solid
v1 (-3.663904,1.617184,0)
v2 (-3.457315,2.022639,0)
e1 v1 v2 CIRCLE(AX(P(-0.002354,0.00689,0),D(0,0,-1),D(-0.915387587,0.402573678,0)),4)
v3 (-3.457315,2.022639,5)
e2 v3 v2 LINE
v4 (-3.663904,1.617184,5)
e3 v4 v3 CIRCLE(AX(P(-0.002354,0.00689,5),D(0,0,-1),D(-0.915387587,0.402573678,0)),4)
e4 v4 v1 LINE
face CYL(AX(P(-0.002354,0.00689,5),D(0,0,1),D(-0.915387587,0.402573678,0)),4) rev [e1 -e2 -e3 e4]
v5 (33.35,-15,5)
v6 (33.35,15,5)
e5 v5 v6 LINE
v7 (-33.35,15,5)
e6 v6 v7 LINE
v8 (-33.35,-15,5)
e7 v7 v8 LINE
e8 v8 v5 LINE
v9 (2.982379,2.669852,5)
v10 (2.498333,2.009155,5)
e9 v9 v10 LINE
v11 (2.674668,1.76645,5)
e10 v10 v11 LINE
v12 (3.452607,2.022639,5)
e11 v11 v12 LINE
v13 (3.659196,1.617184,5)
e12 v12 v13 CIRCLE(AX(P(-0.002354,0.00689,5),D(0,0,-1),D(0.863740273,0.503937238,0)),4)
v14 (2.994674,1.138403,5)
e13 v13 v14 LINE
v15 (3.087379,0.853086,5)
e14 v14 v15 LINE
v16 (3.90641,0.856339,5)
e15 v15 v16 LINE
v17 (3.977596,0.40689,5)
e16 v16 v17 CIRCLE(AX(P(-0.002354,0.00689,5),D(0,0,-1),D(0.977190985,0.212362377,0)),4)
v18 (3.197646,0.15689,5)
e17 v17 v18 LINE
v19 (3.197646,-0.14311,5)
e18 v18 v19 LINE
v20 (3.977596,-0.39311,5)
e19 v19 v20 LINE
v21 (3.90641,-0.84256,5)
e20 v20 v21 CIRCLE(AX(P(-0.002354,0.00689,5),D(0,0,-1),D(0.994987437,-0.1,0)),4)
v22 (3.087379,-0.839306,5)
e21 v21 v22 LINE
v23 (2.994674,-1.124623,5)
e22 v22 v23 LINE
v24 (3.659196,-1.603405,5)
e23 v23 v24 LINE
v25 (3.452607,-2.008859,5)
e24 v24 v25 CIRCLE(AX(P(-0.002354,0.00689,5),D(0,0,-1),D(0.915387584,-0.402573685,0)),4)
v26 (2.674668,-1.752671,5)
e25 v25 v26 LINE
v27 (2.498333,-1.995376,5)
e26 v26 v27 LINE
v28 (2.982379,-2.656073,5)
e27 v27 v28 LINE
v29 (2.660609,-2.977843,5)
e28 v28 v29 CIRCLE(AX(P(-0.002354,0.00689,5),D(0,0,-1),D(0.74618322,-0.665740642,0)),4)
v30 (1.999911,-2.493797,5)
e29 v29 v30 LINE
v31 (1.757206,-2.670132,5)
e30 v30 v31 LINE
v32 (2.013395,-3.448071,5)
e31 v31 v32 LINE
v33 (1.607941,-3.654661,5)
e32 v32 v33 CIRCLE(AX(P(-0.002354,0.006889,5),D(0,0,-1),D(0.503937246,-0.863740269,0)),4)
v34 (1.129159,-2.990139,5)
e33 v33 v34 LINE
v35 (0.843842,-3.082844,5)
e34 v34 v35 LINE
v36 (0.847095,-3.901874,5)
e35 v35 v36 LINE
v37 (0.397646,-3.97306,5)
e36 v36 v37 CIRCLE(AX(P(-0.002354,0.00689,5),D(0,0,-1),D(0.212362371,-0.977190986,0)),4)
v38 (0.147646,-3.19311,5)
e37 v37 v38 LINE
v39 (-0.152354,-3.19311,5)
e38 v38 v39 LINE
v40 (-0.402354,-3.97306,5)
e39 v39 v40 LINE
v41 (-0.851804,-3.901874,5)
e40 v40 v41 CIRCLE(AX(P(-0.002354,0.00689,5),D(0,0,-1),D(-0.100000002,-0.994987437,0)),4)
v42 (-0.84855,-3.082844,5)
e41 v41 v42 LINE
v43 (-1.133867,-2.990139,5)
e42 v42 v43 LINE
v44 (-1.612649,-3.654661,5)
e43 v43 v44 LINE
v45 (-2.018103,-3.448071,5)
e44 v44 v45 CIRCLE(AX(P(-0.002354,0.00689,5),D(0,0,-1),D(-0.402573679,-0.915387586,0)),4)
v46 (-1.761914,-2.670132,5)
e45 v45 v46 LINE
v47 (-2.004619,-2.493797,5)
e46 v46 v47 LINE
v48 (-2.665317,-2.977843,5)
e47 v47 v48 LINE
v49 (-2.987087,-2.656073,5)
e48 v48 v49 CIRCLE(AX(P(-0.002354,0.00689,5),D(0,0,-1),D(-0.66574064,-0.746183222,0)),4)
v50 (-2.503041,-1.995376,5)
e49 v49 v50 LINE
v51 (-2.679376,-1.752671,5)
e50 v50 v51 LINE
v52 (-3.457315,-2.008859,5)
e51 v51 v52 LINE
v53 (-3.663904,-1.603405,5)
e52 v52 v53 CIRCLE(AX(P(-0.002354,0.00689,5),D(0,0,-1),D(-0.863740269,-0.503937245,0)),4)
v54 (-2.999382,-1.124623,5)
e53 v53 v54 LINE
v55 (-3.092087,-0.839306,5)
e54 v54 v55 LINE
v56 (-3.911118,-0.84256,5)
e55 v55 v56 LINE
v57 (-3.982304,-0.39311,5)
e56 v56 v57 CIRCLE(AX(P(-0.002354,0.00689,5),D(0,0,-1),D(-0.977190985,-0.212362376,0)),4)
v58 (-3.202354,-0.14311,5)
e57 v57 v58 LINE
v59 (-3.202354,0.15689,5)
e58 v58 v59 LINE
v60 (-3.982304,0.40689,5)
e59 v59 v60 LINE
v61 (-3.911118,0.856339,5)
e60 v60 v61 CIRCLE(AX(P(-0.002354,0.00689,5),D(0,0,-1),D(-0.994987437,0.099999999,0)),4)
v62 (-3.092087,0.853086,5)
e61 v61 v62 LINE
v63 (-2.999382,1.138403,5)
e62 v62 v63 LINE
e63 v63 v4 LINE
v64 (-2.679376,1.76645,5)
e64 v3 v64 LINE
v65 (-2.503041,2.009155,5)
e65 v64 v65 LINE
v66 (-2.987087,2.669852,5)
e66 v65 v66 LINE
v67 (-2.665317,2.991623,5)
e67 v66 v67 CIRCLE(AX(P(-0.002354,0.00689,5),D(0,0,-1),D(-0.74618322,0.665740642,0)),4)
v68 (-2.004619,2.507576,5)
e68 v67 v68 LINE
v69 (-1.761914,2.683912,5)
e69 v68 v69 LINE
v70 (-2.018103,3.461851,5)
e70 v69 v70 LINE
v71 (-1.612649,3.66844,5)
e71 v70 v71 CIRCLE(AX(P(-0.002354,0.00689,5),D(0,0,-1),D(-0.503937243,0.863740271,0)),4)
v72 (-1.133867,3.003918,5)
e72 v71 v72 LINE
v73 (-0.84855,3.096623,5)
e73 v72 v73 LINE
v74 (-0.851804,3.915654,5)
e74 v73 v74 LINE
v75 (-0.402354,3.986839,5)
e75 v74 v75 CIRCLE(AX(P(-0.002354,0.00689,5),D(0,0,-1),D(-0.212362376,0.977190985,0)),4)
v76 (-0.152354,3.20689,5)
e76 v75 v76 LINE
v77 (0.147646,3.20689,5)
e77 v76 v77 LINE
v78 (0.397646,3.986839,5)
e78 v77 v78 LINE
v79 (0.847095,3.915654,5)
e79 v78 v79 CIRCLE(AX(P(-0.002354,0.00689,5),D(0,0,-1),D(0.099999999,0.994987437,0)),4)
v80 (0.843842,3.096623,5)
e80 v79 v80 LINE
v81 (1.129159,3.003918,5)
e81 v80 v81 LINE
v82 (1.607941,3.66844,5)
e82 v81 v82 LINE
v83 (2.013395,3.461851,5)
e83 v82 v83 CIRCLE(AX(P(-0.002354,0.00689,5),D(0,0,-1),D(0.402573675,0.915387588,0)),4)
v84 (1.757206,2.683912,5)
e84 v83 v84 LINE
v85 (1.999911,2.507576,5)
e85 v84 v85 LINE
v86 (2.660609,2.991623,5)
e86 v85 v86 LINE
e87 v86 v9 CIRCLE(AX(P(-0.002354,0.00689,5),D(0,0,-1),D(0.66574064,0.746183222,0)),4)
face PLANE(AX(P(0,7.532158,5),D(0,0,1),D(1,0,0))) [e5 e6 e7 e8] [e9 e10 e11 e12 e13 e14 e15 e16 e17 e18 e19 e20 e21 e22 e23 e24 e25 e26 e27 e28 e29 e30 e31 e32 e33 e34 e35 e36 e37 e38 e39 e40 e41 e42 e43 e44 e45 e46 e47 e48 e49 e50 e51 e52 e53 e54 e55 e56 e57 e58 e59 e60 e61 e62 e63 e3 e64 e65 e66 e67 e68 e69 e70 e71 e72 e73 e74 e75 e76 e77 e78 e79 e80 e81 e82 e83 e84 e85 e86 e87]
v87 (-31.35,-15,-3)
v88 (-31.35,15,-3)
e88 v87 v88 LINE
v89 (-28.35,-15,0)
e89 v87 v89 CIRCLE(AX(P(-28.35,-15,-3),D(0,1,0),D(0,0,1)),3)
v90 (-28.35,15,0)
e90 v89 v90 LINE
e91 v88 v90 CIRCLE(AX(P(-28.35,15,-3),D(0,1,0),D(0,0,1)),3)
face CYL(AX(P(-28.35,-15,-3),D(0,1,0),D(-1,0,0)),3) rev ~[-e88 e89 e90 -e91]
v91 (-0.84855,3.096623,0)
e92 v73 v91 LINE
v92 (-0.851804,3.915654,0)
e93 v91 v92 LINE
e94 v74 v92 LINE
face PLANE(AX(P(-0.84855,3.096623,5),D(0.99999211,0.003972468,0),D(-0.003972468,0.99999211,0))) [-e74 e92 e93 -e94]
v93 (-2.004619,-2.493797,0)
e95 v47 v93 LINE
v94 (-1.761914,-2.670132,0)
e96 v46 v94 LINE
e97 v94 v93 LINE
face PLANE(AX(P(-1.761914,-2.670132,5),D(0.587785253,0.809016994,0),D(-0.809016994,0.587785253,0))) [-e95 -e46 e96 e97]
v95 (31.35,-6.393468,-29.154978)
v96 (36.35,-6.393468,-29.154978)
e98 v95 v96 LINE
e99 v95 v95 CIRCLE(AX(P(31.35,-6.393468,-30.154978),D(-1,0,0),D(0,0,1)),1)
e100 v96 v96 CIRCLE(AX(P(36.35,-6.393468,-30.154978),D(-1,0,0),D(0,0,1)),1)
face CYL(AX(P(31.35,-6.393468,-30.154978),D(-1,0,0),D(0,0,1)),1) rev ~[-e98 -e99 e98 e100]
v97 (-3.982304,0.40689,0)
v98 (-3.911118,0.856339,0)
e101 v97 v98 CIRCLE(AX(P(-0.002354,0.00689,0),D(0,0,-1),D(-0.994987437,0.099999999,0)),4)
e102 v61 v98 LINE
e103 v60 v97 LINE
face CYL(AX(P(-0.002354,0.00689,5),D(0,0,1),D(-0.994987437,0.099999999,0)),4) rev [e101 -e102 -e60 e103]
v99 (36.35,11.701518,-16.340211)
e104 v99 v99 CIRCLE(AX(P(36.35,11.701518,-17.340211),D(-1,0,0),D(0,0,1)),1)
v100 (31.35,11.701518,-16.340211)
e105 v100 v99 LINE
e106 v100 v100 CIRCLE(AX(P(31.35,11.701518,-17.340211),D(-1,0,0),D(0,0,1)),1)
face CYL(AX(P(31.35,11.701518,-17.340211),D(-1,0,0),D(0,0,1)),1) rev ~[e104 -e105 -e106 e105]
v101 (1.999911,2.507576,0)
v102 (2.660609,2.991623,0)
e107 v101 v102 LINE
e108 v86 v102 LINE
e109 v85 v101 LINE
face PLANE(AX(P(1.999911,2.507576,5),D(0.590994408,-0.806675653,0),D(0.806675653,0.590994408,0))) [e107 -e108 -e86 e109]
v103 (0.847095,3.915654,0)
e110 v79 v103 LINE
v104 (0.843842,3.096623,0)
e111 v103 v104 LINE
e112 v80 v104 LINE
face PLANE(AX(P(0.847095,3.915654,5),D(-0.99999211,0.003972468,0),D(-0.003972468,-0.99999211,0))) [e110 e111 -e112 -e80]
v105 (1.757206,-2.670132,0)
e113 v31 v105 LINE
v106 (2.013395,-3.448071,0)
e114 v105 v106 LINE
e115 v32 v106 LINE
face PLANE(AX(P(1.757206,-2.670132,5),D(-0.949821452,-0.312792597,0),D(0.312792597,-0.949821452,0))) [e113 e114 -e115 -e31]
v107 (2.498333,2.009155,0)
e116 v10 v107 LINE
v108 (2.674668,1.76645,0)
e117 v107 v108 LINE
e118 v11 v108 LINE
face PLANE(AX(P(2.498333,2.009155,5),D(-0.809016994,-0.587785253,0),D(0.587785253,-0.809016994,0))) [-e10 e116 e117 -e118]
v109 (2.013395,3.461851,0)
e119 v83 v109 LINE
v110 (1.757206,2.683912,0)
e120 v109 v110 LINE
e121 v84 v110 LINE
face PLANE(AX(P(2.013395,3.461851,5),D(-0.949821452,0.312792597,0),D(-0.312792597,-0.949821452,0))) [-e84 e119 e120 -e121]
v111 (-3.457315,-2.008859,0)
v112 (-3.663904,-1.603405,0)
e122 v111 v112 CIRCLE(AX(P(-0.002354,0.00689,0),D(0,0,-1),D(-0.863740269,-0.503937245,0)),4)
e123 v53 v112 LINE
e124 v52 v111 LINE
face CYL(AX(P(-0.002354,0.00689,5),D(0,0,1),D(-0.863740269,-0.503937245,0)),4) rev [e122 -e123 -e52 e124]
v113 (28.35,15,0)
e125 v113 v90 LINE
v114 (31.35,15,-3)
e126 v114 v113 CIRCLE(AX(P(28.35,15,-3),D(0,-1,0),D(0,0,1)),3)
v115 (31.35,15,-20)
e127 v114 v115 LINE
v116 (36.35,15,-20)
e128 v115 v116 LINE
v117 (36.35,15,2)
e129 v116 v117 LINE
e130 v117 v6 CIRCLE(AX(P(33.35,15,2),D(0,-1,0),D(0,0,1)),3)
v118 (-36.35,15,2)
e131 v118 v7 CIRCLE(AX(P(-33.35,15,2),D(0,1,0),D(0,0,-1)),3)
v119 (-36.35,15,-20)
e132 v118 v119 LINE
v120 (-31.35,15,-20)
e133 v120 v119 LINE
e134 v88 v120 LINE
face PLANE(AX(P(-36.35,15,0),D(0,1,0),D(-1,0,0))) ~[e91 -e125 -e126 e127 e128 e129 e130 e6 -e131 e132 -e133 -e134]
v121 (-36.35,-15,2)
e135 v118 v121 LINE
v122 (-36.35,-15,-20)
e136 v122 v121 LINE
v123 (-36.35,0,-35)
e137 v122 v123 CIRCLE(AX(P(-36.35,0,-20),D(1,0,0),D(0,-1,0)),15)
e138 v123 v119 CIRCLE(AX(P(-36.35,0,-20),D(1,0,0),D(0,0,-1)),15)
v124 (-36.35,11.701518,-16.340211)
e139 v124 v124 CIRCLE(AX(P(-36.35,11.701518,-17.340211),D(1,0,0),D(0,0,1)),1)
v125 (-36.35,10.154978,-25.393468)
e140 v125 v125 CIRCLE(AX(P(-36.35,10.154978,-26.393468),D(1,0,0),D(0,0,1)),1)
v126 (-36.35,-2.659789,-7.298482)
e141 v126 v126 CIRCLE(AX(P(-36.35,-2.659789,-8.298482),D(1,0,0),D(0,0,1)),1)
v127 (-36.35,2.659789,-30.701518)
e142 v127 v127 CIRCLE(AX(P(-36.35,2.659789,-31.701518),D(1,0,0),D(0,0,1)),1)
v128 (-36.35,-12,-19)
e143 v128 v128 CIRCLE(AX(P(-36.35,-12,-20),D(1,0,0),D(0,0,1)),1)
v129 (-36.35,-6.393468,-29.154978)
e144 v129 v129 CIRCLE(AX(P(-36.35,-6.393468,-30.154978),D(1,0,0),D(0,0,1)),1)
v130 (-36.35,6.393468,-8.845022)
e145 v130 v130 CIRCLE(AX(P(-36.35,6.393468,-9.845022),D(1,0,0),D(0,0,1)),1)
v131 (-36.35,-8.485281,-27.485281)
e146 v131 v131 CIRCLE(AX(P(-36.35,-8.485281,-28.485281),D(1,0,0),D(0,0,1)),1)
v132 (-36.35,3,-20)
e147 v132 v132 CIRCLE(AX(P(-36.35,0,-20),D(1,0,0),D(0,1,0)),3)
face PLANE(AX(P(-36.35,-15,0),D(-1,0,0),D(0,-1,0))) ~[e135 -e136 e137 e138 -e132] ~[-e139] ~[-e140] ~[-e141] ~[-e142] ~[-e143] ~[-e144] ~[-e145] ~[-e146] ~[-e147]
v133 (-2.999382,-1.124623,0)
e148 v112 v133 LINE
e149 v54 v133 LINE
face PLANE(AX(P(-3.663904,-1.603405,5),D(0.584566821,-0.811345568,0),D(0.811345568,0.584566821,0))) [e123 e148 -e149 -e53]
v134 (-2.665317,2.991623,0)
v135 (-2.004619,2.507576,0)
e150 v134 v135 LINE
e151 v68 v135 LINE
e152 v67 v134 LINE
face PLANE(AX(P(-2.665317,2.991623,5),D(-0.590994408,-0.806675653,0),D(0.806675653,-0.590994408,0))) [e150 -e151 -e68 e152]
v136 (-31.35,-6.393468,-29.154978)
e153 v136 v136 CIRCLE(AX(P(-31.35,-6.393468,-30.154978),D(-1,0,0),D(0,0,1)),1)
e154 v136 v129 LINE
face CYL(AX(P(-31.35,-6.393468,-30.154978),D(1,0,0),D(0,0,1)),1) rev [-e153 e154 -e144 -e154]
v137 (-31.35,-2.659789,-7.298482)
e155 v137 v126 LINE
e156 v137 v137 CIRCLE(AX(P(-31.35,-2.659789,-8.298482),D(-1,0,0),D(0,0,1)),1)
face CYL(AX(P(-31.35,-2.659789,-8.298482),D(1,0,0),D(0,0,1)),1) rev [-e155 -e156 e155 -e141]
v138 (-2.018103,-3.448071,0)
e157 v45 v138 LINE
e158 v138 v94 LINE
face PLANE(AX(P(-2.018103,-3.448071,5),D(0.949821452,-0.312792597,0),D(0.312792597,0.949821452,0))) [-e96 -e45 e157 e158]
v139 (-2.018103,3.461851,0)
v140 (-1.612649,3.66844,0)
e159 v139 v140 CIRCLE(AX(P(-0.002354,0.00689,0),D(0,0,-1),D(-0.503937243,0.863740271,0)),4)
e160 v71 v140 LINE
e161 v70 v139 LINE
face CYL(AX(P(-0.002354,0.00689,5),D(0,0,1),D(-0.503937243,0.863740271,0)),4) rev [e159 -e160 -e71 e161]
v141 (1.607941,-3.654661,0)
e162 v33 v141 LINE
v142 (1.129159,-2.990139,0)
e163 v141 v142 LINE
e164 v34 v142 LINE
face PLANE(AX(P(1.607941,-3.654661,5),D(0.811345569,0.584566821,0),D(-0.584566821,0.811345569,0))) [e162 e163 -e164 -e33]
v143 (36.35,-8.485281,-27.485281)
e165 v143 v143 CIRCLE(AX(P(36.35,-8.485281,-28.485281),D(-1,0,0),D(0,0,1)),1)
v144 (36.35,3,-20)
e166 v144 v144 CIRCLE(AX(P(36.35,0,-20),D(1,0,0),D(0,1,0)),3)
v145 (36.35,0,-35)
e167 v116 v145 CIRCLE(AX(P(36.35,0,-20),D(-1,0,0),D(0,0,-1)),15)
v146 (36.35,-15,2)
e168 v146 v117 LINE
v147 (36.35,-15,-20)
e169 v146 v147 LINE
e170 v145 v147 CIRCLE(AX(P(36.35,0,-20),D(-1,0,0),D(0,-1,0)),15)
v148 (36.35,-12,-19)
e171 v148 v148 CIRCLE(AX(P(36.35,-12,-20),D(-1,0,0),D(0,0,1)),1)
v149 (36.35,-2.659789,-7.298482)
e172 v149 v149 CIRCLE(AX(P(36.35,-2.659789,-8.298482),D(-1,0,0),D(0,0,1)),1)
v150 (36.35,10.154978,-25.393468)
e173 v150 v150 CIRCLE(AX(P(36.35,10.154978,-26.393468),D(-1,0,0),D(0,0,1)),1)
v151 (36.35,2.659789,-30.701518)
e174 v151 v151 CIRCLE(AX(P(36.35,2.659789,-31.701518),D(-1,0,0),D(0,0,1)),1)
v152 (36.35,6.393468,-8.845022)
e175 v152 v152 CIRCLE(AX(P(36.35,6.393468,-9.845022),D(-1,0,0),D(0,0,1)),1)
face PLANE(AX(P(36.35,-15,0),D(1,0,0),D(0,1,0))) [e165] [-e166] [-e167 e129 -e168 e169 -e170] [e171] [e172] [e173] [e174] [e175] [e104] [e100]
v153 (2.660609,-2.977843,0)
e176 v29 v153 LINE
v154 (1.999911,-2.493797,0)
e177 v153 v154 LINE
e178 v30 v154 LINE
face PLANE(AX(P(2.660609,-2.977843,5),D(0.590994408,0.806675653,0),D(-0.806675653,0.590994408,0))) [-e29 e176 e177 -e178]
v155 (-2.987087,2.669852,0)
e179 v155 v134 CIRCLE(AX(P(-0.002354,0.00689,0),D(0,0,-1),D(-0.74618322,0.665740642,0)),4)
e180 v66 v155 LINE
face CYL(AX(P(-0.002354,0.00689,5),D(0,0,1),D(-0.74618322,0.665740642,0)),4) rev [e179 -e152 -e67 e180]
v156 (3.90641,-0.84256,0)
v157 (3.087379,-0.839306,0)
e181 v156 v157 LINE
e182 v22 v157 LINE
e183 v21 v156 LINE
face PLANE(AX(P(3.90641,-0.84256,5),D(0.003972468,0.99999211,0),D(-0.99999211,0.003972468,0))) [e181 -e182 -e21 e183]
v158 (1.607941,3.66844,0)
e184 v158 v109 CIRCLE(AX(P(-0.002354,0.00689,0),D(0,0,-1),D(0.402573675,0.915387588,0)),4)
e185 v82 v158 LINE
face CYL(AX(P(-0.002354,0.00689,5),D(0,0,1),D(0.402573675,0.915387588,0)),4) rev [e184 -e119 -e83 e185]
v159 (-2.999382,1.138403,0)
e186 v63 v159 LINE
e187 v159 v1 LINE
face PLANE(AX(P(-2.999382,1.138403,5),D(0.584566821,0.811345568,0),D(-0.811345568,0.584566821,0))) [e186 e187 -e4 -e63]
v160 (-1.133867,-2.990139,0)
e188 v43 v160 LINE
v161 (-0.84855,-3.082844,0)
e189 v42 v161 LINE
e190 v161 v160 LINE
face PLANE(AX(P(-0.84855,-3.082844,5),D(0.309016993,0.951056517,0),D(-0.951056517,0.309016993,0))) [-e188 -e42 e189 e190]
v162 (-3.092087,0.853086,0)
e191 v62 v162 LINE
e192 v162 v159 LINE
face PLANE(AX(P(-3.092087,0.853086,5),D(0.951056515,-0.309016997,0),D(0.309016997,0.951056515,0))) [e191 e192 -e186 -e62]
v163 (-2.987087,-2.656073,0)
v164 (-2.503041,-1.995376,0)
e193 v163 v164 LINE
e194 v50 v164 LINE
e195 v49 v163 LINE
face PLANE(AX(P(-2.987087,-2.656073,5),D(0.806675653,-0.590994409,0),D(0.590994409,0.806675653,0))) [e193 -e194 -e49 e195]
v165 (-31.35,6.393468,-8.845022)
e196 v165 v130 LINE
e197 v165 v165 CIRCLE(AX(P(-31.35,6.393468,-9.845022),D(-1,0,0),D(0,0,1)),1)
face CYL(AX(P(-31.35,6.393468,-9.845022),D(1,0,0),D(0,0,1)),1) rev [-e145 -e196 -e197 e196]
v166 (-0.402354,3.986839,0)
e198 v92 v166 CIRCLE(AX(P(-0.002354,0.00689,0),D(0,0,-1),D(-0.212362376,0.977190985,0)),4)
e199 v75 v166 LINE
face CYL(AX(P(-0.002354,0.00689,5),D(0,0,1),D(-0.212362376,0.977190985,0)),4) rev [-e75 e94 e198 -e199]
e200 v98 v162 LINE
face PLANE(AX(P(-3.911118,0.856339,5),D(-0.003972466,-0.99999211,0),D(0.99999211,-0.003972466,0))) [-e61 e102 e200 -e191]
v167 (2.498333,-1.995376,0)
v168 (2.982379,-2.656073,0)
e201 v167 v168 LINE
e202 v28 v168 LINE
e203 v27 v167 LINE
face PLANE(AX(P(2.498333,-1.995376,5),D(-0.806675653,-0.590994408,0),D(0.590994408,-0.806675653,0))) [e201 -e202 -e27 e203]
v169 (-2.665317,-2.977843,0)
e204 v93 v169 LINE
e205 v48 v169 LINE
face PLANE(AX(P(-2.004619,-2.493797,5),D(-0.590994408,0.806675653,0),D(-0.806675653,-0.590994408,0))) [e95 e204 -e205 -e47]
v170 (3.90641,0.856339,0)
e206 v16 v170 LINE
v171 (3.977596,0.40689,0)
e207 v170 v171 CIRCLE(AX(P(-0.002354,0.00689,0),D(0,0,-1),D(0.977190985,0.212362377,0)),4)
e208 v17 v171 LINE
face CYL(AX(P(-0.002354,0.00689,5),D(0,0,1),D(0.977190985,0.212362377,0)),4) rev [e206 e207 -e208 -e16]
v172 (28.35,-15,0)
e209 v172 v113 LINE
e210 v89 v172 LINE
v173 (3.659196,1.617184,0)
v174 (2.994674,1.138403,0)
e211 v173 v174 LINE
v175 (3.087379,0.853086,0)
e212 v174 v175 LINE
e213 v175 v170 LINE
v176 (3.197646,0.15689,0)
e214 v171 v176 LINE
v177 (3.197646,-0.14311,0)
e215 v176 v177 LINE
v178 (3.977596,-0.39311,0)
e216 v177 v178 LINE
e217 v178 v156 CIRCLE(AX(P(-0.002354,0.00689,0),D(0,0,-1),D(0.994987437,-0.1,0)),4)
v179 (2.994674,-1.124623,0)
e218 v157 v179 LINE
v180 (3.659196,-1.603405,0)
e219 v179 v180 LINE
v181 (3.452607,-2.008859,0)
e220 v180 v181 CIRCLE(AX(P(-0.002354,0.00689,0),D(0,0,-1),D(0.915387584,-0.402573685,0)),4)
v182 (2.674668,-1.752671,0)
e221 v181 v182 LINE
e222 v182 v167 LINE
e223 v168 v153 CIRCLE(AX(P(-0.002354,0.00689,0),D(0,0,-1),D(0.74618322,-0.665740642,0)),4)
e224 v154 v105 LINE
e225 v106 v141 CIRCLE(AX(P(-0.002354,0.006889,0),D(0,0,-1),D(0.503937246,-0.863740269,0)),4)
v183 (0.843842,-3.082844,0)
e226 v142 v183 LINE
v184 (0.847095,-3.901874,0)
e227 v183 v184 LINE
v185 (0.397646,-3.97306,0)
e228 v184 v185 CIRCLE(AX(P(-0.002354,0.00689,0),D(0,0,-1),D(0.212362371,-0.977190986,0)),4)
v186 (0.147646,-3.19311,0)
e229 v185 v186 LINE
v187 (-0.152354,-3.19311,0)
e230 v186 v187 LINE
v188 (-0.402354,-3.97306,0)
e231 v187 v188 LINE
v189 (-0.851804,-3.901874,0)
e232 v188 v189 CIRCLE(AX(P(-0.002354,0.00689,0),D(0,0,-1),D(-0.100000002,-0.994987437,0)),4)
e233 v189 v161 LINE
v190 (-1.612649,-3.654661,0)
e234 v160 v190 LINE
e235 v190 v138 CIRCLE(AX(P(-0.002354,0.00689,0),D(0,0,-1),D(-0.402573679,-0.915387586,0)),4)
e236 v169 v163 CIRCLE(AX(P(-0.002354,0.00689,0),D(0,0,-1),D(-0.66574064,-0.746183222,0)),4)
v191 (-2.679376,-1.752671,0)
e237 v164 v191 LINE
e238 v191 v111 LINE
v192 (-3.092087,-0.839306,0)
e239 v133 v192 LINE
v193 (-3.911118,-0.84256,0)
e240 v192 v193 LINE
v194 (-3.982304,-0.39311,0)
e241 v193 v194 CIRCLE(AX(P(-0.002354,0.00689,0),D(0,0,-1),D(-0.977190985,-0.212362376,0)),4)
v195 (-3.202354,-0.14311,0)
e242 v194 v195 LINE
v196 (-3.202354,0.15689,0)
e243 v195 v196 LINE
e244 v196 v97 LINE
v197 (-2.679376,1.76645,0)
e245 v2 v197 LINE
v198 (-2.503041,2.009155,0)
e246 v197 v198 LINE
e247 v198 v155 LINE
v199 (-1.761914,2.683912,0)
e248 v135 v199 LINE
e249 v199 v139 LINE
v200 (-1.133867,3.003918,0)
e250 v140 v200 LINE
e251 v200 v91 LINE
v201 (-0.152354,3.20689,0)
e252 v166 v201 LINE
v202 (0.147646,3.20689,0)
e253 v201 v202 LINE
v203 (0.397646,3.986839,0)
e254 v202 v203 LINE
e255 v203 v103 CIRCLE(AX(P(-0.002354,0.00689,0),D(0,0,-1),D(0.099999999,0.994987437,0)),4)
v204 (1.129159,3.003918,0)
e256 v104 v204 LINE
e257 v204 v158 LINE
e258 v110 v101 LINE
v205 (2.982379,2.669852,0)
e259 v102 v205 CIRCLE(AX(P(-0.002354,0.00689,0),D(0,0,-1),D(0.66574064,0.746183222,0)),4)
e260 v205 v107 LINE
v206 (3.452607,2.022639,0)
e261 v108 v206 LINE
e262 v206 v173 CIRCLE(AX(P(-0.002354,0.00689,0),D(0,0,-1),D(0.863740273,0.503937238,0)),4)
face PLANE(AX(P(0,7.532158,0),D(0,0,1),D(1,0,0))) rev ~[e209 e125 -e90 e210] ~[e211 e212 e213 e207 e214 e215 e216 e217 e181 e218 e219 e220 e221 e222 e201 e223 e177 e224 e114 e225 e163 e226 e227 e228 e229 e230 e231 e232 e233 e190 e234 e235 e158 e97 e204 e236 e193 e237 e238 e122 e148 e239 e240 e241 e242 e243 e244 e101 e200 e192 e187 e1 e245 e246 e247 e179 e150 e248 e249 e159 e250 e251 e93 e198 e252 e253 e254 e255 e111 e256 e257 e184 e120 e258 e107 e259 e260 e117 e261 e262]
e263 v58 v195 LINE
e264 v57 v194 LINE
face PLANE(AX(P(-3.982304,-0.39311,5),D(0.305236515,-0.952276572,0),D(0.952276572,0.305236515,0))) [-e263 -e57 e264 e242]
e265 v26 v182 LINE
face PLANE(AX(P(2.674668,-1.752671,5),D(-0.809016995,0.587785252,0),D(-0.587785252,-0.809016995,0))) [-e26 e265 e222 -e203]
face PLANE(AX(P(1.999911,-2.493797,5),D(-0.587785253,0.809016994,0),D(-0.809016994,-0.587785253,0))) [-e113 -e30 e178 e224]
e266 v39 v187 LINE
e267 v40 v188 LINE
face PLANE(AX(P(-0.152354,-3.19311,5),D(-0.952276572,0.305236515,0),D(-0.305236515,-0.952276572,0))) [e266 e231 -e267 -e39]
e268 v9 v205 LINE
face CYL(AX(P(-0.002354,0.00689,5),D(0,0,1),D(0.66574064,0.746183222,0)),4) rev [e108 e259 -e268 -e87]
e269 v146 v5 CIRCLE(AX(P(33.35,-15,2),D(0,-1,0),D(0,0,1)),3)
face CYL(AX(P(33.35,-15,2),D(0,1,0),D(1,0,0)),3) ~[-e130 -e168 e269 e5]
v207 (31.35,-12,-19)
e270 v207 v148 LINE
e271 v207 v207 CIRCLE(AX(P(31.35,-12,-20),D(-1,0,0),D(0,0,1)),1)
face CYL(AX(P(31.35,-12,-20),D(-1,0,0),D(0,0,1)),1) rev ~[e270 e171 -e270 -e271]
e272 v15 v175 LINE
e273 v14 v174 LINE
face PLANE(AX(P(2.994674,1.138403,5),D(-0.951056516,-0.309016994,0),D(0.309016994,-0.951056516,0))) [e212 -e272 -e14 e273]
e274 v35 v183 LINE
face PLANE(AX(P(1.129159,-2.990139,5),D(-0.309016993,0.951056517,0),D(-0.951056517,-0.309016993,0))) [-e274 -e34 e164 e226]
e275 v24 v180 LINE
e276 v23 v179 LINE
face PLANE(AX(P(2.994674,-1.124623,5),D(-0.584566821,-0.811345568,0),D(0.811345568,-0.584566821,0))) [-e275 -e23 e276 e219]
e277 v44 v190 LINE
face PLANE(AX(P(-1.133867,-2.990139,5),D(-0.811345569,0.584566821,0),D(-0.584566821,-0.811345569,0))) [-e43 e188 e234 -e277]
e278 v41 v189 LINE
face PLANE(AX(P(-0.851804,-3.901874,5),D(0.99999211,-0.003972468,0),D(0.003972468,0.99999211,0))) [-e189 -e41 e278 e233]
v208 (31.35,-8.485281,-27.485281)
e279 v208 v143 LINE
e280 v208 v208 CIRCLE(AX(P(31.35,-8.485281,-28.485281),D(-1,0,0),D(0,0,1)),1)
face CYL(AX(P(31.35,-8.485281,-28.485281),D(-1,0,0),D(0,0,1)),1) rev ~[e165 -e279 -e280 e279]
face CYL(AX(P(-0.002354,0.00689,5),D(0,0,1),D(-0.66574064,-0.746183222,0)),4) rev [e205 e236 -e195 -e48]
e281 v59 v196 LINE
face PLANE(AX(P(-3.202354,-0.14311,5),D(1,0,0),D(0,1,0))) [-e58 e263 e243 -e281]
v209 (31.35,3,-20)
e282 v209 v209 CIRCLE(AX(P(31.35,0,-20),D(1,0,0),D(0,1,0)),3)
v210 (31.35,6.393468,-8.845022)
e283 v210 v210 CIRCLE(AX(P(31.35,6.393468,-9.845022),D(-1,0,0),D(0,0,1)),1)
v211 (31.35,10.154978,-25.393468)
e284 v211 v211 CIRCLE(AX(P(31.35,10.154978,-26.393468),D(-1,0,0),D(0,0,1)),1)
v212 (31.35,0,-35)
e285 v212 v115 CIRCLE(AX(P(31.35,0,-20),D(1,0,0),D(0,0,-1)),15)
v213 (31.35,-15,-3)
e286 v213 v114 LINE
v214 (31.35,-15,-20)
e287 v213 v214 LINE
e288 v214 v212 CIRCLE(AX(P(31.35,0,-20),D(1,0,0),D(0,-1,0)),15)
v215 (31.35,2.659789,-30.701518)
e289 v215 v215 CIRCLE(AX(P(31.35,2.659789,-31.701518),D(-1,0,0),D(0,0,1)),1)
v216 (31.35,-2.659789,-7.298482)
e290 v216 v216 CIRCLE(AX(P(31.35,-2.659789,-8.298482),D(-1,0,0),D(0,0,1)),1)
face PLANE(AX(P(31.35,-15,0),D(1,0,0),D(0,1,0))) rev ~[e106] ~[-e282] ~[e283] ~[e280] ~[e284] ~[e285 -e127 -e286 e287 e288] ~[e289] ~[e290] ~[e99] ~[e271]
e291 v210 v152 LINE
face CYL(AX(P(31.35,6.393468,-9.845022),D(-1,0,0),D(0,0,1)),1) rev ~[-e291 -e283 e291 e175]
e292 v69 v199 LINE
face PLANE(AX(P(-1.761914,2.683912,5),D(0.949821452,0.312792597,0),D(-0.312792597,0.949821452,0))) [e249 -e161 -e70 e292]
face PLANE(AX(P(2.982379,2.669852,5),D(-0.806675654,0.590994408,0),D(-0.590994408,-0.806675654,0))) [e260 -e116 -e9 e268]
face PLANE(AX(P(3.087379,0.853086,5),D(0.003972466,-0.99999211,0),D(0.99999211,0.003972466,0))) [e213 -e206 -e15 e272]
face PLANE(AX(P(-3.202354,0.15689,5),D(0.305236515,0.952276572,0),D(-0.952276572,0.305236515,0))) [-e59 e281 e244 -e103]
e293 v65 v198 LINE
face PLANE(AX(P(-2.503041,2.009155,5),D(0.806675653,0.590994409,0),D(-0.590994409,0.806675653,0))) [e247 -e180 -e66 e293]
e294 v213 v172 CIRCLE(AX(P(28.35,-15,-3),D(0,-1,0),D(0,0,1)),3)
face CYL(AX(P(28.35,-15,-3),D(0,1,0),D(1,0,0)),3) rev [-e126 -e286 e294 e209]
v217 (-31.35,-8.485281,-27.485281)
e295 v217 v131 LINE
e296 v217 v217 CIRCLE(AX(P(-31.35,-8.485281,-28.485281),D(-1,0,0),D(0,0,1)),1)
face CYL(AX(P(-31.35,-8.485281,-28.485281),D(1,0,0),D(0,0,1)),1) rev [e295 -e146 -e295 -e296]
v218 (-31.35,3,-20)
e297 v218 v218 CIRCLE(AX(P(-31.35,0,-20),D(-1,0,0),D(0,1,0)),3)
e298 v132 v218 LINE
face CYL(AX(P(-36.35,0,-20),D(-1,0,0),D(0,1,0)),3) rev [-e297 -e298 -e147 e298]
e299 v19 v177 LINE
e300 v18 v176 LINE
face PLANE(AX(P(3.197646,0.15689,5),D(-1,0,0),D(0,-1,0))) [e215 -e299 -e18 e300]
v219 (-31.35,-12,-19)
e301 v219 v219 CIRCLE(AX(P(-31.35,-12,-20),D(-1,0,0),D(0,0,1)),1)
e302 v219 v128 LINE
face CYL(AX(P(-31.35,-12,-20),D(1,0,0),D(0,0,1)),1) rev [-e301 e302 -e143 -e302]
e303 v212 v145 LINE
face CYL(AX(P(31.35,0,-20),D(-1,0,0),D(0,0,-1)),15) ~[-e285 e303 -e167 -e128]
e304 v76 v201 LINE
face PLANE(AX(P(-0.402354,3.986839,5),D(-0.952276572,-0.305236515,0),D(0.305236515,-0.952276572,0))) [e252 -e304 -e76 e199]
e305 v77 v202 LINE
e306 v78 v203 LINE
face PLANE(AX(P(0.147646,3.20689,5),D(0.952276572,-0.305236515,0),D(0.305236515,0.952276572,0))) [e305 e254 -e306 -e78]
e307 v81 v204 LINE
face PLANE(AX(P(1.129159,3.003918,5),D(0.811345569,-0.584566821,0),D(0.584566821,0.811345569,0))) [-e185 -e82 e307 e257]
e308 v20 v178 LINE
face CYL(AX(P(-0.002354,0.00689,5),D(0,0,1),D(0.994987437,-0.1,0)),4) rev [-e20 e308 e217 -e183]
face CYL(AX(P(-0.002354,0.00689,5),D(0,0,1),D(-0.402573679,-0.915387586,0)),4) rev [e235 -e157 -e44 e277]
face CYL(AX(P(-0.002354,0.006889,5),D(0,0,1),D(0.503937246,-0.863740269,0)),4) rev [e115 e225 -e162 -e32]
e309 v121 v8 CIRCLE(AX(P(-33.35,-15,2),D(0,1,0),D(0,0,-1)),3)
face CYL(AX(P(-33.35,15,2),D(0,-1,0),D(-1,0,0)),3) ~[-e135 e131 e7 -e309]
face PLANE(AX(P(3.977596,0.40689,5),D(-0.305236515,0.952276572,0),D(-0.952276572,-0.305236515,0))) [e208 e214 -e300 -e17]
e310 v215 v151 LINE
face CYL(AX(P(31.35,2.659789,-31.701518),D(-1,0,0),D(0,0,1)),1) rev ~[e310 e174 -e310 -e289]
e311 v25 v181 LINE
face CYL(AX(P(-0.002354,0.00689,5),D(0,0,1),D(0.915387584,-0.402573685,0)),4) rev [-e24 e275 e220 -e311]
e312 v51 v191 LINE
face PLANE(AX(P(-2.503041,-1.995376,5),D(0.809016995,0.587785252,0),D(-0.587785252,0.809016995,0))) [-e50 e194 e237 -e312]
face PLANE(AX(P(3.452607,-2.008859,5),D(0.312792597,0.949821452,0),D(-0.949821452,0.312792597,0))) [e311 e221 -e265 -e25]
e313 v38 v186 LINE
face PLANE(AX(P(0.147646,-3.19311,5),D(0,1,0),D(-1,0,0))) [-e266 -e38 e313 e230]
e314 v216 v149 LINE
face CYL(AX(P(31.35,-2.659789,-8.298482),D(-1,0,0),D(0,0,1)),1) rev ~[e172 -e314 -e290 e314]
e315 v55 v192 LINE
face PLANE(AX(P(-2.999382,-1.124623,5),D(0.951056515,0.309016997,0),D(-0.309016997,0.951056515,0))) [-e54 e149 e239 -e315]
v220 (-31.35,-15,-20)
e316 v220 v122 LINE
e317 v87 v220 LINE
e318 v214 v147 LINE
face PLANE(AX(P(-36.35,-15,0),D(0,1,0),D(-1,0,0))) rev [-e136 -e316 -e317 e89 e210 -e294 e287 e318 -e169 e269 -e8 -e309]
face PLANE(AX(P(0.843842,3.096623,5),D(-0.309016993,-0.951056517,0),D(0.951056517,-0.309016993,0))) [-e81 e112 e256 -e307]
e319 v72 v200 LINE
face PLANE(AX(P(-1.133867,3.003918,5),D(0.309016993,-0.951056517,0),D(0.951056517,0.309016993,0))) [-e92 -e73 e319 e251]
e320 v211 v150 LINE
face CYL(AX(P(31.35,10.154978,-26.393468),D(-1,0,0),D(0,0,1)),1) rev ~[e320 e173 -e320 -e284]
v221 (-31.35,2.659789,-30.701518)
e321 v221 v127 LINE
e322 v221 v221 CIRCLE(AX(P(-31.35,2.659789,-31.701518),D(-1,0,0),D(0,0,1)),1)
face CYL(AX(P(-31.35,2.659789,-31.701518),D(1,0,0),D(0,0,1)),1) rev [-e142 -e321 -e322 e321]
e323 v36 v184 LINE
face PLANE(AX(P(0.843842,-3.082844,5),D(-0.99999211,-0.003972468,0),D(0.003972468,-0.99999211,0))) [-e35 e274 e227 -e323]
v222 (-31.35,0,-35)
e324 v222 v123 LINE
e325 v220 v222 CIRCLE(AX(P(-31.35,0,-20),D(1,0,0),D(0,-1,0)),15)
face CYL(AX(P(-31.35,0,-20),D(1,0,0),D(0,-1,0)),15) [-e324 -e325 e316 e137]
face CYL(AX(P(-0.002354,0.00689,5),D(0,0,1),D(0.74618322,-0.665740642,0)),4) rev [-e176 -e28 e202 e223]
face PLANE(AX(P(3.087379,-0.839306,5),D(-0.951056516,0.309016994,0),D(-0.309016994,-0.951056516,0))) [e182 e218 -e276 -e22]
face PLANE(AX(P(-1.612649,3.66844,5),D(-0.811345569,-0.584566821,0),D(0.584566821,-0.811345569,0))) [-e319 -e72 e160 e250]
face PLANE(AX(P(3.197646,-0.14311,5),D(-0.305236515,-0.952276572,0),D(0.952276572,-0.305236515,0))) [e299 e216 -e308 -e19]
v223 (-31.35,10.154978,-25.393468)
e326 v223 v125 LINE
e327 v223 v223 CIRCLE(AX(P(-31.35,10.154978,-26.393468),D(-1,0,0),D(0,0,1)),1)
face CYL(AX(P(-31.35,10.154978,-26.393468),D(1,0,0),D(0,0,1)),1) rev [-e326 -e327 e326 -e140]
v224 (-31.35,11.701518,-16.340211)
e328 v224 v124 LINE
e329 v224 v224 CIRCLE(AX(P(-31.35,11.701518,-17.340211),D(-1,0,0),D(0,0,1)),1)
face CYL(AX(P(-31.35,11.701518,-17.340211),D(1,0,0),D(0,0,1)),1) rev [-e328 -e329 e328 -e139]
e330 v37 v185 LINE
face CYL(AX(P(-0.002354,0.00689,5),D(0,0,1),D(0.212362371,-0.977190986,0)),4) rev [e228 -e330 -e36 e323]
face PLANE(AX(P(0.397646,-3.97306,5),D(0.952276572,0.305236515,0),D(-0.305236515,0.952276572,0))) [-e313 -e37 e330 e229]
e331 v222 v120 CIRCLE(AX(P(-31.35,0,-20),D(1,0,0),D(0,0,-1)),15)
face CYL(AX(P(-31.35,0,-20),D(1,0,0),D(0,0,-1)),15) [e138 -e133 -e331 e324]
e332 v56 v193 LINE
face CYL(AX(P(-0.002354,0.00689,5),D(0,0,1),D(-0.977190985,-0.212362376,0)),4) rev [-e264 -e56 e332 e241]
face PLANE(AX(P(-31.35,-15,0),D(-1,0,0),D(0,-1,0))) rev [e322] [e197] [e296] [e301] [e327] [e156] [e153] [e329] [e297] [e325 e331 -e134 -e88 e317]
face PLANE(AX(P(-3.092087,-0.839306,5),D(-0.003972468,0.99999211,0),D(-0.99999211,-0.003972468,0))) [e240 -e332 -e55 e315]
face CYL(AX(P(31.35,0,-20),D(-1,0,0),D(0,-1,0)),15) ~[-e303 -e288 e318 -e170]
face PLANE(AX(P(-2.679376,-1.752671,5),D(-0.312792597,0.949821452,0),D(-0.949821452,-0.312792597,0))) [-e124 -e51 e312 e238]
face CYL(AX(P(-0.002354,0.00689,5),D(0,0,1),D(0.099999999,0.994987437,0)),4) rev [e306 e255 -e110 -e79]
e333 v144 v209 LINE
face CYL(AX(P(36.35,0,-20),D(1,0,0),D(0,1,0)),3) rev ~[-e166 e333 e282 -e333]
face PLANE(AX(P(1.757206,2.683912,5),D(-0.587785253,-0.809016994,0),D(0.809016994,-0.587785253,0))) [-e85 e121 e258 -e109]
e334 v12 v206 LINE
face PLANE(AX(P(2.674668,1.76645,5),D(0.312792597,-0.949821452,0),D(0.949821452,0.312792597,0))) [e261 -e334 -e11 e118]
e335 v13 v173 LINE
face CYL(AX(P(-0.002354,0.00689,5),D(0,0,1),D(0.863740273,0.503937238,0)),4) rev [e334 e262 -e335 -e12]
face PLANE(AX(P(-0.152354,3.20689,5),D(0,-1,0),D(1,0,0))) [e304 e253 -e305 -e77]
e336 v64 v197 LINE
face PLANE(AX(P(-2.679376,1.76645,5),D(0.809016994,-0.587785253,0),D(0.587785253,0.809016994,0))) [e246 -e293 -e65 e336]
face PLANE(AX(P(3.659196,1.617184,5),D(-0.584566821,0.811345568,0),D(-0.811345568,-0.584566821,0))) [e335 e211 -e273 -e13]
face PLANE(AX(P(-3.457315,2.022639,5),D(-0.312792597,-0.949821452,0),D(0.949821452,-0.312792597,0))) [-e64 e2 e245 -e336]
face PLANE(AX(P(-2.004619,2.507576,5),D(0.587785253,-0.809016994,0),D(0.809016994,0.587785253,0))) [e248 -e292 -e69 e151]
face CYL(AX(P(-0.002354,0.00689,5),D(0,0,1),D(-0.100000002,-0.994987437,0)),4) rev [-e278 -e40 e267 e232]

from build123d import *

# Parameters (mm, degrees)
BOSS_EXTRUDE1_DEPTH = 5
SKETCH4_W           = 5
SKETCH4_H           = 30
BOSS_EXTRUDE4_DEPTH = 35
SKETCH5_R           = 3
CUT_EXTRUDE2_DEPTH  = 40
CUT_EXTRUDE3_DEPTH  = 10
SKETCH7_R           = 1
SKETCH7_R_2         = 1.000000019
CUT_EXTRUDE4_DEPTH  = 10
FILLET2_R           = 3
FILLET3_R           = 3
FILLET5_R           = 3
FILLET6_R           = 3
CUT_EXTRUDE5_DEPTH  = 5


with BuildPart() as part:
    # Sketch1 → Boss-Extrude1 (new body)
    with BuildSketch(Plane.XY):
        with BuildLine():
            Line((5, 0), (36.35, 0))
            Line((36.35, 0), (36.35, 15))
            Line((36.35, 15), (-36.35, 15))
            Line((-36.35, 15), (-36.35, 0))
            Line((-36.35, 0), (-5, 0))
            ThreePointArc((-5, 0), (0, 5), (5, 0))
        make_face()
        with BuildLine():
            ThreePointArc((-5, 0), (0, -5), (5, 0))
            Line((5, 0), (0, 0))
            Line((0, 0), (-5, 0))
        make_face()
        with BuildLine():
            Line((0, 0), (5, 0))
            ThreePointArc((5, 0), (0, 5), (-5, 0))
            Line((-5, 0), (0, 0))
        make_face()
        with BuildLine():
            Line((-36.35, -15), (36.35, -15))
            Line((36.35, -15), (36.35, 0))
            Line((36.35, 0), (5, 0))
            ThreePointArc((5, 0), (0, -5), (-5, 0))
            Line((-5, 0), (-36.35, 0))
            Line((-36.35, 0), (-36.35, -15))
        make_face()
    extrude(amount=BOSS_EXTRUDE1_DEPTH)

    # Sketch4 → Boss-Extrude4 (add)
    with BuildSketch(Plane(origin=(0, 0, 0), x_dir=(-1, 0, 0), z_dir=(0, 0, -1))):
        with Locations((-33.85, 0)):
            Rectangle(SKETCH4_W, SKETCH4_H)
    boss_extrude4 = extrude(amount=BOSS_EXTRUDE4_DEPTH)

    # Sketch5 → Cut-Extrude2 (cut)
    with BuildSketch(Plane(origin=(36.35, 0, 0), x_dir=(0, 0, -1), z_dir=(1, 0, 0))):
        with Locations(Location((20, 0, 0), (0, 0, 90))):
            Circle(SKETCH5_R)
    cut_extrude2 = extrude(amount=-CUT_EXTRUDE2_DEPTH, mode=Mode.SUBTRACT)

    # Sketch6 → Cut-Extrude3 (cut)
    with BuildSketch(Plane.ZY.offset(-31.35)):
        with BuildLine():
            ThreePointArc((-35, 0), (-30.606601718, 10.606601718), (-20, 15))
            Line((-20, 15), (-35, 15))
            Line((-35, 15), (-35, 0))
        make_face()
        with BuildLine():
            ThreePointArc((-20, -15), (-30.606601718, -10.606601718), (-35, 0))
            Line((-35, 0), (-35, -15))
            Line((-35, -15), (-20, -15))
        make_face()
    cut_extrude3 = extrude(amount=-CUT_EXTRUDE3_DEPTH, mode=Mode.SUBTRACT)

    # Sketch7 → Cut-Extrude4 (cut)
    with BuildSketch(Plane.ZY.offset(-31.35)):
        with Locations((-31.701517916, 2.659789178)):
            Circle(SKETCH7_R)
        with Locations((-17.340210822, 11.701517916)):
            Circle(SKETCH7_R)
        with Locations((-9.845022367, 6.393467704)):
            Circle(SKETCH7_R)
        with Locations((-30.154977622, -6.393467721)):
            Circle(SKETCH7_R_2)
        with Locations((-8.298482084, -2.659789178)):
            Circle(SKETCH7_R)
        with Locations((-26.393467704, 10.154977633)):
            Circle(SKETCH7_R)
        with Locations((-28.485281374, -8.485281374)):
            Circle(SKETCH7_R)
        with Locations((-20, -12)):
            Circle(SKETCH7_R)
    cut_extrude4 = extrude(amount=-CUT_EXTRUDE4_DEPTH, mode=Mode.SUBTRACT)

    # Fillet2
    fillet2_edges = [part.edges().sort_by_distance(p)[0] for p in [
        (36.35, 0, 5),
    ]]
    fillet(fillet2_edges, radius=FILLET2_R)

    # Fillet3
    fillet3_edges = [part.edges().sort_by_distance(p)[0] for p in [
        (31.35, 0, 0),
    ]]
    fillet(fillet3_edges, radius=FILLET3_R)

    # Mirror2: Boss-Extrude4, Cut-Extrude2, Cut-Extrude3, Cut-Extrude4 across plane
    add(boss_extrude4.mirror(Plane(origin=(0, 0, 0), x_dir=(0, 0, 1), z_dir=(1, 0, 0))))
    add(cut_extrude2.mirror(Plane(origin=(0, 0, 0), x_dir=(0, 0, 1), z_dir=(1, 0, 0))), mode=Mode.SUBTRACT)
    add(cut_extrude3.mirror(Plane(origin=(0, 0, 0), x_dir=(0, 0, 1), z_dir=(1, 0, 0))), mode=Mode.SUBTRACT)
    add(cut_extrude4.mirror(Plane(origin=(0, 0, 0), x_dir=(0, 0, 1), z_dir=(1, 0, 0))), mode=Mode.SUBTRACT)

    # Fillet5
    fillet5_edges = [part.edges().sort_by_distance(p)[0] for p in [
        (-36.35, 0, 5),
    ]]
    fillet(fillet5_edges, radius=FILLET5_R)

    # Fillet6
    fillet6_edges = [part.edges().sort_by_distance(p)[0] for p in [
        (-31.35, 0, 0),
    ]]
    fillet(fillet6_edges, radius=FILLET6_R)

    # Sketch9 → Cut-Extrude5 (cut)
    with BuildSketch(Plane.XY.offset(5)):
        with BuildLine():
            Line((3.977595735, 0.406889685), (3.197645987, 0.156889685))
            Line((3.197645987, 0.156889685), (3.197645987, -0.143110315))
            Line((3.197645987, -0.143110315), (3.977595735, -0.393110315))
            ThreePointArc((3.977595735, -0.393110315), (3.948399349, -0.618848175), (3.906409927, -0.842559818))
            Line((3.906409927, -0.842559818), (3.087379388, -0.83930622))
            Line((3.087379388, -0.83930622), (2.99467429, -1.124623174))
            Line((2.99467429, -1.124623174), (3.659196332, -1.603405031))
            ThreePointArc((3.659196332, -1.603405031), (3.561672083, -1.809072314), (3.452607071, -2.008859284))
            Line((3.452607071, -2.008859284), (2.674668157, -1.752670573))
            Line((2.674668157, -1.752670573), (2.498332581, -1.995375672))
            Line((2.498332581, -1.995375672), (2.982378869, -2.65607288))
            ThreePointArc((2.982378869, -2.65607288), (2.826073111, -2.82153744), (2.660608551, -2.977843197))
            Line((2.660608551, -2.977843197), (1.999911343, -2.493796909))
            Line((1.999911343, -2.493796909), (1.757206245, -2.670132485))
            Line((1.757206245, -2.670132485), (2.013394956, -3.448071399))
            ThreePointArc((2.013394956, -3.448071399), (1.813607986, -3.557136412), (1.607940702, -3.65466066))
            Line((1.607940702, -3.65466066), (1.129158846, -2.990138618))
            Line((1.129158846, -2.990138618), (0.843841891, -3.082843716))
            Line((0.843841891, -3.082843716), (0.847095489, -3.901874256))
            ThreePointArc((0.847095489, -3.901874256), (0.623383847, -3.943863677), (0.397645987, -3.973060063))
            Line((0.397645987, -3.973060063), (0.147645987, -3.193110315))
            Line((0.147645987, -3.193110315), (-0.152354013, -3.193110315))
            Line((-0.152354013, -3.193110315), (-0.402354013, -3.973060063))
            ThreePointArc((-0.402354013, -3.973060063), (-0.628091873, -3.943863677), (-0.851803516, -3.901874256))
            Line((-0.851803516, -3.901874256), (-0.848549918, -3.082843716))
            Line((-0.848549918, -3.082843716), (-1.133866873, -2.990138618))
            Line((-1.133866873, -2.990138618), (-1.612648729, -3.65466066))
            ThreePointArc((-1.612648729, -3.65466066), (-1.818316012, -3.557136412), (-2.018102983, -3.448071399))
            Line((-2.018102983, -3.448071399), (-1.761914272, -2.670132485))
            Line((-1.761914272, -2.670132485), (-2.00461937, -2.493796909))
            Line((-2.00461937, -2.493796909), (-2.665316578, -2.977843197))
            ThreePointArc((-2.665316578, -2.977843197), (-2.830781138, -2.82153744), (-2.987086896, -2.65607288))
            Line((-2.987086896, -2.65607288), (-2.503040607, -1.995375672))
            Line((-2.503040607, -1.995375672), (-2.679376183, -1.752670573))
            Line((-2.679376183, -1.752670573), (-3.457315097, -2.008859284))
            ThreePointArc((-3.457315097, -2.008859284), (-3.56638011, -1.809072314), (-3.663904358, -1.603405031))
            Line((-3.663904358, -1.603405031), (-2.999382316, -1.124623174))
            Line((-2.999382316, -1.124623174), (-3.092087415, -0.83930622))
            Line((-3.092087415, -0.83930622), (-3.911117954, -0.842559818))
            ThreePointArc((-3.911117954, -0.842559818), (-3.953107376, -0.618848175), (-3.982303762, -0.393110315))
            Line((-3.982303762, -0.393110315), (-3.202354013, -0.143110315))
            Line((-3.202354013, -0.143110315), (-3.202354013, 0.156889685))
            Line((-3.202354013, 0.156889685), (-3.982303762, 0.406889685))
            ThreePointArc((-3.982303762, 0.406889685), (-3.953107376, 0.632627545), (-3.911117954, 0.856339187))
            Line((-3.911117954, 0.856339187), (-3.092087415, 0.85308559))
            Line((-3.092087415, 0.85308559), (-2.999382316, 1.138402544))
            Line((-2.999382316, 1.138402544), (-3.663904358, 1.617184401))
            ThreePointArc((-3.663904358, 1.617184401), (-3.56638011, 1.822851684), (-3.457315097, 2.022638654))
            Line((-3.457315097, 2.022638654), (-2.679376183, 1.766449943))
            Line((-2.679376183, 1.766449943), (-2.503040607, 2.009155041))
            Line((-2.503040607, 2.009155041), (-2.987086896, 2.66985225))
            ThreePointArc((-2.987086896, 2.66985225), (-2.830781138, 2.83531681), (-2.665316578, 2.991622567))
            Line((-2.665316578, 2.991622567), (-2.00461937, 2.507576279))
            Line((-2.00461937, 2.507576279), (-1.761914272, 2.683911855))
            Line((-1.761914272, 2.683911855), (-2.018102983, 3.461850769))
            ThreePointArc((-2.018102983, 3.461850769), (-1.818316012, 3.570915782), (-1.612648729, 3.66844003))
            Line((-1.612648729, 3.66844003), (-1.133866873, 3.003917988))
            Line((-1.133866873, 3.003917988), (-0.848549918, 3.096623086))
            Line((-0.848549918, 3.096623086), (-0.851803516, 3.915653625))
            ThreePointArc((-0.851803516, 3.915653625), (-0.628091873, 3.957643047), (-0.402354013, 3.986839433))
            Line((-0.402354013, 3.986839433), (-0.152354013, 3.206889685))
            Line((-0.152354013, 3.206889685), (0.147645987, 3.206889685))
            Line((0.147645987, 3.206889685), (0.397645987, 3.986839433))
            ThreePointArc((0.397645987, 3.986839433), (0.623383847, 3.957643047), (0.847095489, 3.915653625))
            Line((0.847095489, 3.915653625), (0.843841891, 3.096623086))
            Line((0.843841891, 3.096623086), (1.129158846, 3.003917988))
            Line((1.129158846, 3.003917988), (1.607940702, 3.66844003))
            ThreePointArc((1.607940702, 3.66844003), (1.813607986, 3.570915782), (2.013394956, 3.461850769))
            Line((2.013394956, 3.461850769), (1.757206245, 2.683911855))
            Line((1.757206245, 2.683911855), (1.999911343, 2.507576279))
            Line((1.999911343, 2.507576279), (2.660608551, 2.991622567))
            ThreePointArc((2.660608551, 2.991622567), (2.826073111, 2.83531681), (2.982378869, 2.66985225))
            Line((2.982378869, 2.66985225), (2.498332581, 2.009155041))
            Line((2.498332581, 2.009155041), (2.674668157, 1.766449943))
            Line((2.674668157, 1.766449943), (3.452607071, 2.022638654))
            ThreePointArc((3.452607071, 2.022638654), (3.561672083, 1.822851684), (3.659196332, 1.617184401))
            Line((3.659196332, 1.617184401), (2.99467429, 1.138402544))
            Line((2.99467429, 1.138402544), (3.087379388, 0.85308559))
            Line((3.087379388, 0.85308559), (3.906409927, 0.856339187))
            ThreePointArc((3.906409927, 0.856339187), (3.948399349, 0.632627545), (3.977595735, 0.406889685))
        make_face()
    extrude(amount=-CUT_EXTRUDE5_DEPTH, mode=Mode.SUBTRACT)


solid = part.part
